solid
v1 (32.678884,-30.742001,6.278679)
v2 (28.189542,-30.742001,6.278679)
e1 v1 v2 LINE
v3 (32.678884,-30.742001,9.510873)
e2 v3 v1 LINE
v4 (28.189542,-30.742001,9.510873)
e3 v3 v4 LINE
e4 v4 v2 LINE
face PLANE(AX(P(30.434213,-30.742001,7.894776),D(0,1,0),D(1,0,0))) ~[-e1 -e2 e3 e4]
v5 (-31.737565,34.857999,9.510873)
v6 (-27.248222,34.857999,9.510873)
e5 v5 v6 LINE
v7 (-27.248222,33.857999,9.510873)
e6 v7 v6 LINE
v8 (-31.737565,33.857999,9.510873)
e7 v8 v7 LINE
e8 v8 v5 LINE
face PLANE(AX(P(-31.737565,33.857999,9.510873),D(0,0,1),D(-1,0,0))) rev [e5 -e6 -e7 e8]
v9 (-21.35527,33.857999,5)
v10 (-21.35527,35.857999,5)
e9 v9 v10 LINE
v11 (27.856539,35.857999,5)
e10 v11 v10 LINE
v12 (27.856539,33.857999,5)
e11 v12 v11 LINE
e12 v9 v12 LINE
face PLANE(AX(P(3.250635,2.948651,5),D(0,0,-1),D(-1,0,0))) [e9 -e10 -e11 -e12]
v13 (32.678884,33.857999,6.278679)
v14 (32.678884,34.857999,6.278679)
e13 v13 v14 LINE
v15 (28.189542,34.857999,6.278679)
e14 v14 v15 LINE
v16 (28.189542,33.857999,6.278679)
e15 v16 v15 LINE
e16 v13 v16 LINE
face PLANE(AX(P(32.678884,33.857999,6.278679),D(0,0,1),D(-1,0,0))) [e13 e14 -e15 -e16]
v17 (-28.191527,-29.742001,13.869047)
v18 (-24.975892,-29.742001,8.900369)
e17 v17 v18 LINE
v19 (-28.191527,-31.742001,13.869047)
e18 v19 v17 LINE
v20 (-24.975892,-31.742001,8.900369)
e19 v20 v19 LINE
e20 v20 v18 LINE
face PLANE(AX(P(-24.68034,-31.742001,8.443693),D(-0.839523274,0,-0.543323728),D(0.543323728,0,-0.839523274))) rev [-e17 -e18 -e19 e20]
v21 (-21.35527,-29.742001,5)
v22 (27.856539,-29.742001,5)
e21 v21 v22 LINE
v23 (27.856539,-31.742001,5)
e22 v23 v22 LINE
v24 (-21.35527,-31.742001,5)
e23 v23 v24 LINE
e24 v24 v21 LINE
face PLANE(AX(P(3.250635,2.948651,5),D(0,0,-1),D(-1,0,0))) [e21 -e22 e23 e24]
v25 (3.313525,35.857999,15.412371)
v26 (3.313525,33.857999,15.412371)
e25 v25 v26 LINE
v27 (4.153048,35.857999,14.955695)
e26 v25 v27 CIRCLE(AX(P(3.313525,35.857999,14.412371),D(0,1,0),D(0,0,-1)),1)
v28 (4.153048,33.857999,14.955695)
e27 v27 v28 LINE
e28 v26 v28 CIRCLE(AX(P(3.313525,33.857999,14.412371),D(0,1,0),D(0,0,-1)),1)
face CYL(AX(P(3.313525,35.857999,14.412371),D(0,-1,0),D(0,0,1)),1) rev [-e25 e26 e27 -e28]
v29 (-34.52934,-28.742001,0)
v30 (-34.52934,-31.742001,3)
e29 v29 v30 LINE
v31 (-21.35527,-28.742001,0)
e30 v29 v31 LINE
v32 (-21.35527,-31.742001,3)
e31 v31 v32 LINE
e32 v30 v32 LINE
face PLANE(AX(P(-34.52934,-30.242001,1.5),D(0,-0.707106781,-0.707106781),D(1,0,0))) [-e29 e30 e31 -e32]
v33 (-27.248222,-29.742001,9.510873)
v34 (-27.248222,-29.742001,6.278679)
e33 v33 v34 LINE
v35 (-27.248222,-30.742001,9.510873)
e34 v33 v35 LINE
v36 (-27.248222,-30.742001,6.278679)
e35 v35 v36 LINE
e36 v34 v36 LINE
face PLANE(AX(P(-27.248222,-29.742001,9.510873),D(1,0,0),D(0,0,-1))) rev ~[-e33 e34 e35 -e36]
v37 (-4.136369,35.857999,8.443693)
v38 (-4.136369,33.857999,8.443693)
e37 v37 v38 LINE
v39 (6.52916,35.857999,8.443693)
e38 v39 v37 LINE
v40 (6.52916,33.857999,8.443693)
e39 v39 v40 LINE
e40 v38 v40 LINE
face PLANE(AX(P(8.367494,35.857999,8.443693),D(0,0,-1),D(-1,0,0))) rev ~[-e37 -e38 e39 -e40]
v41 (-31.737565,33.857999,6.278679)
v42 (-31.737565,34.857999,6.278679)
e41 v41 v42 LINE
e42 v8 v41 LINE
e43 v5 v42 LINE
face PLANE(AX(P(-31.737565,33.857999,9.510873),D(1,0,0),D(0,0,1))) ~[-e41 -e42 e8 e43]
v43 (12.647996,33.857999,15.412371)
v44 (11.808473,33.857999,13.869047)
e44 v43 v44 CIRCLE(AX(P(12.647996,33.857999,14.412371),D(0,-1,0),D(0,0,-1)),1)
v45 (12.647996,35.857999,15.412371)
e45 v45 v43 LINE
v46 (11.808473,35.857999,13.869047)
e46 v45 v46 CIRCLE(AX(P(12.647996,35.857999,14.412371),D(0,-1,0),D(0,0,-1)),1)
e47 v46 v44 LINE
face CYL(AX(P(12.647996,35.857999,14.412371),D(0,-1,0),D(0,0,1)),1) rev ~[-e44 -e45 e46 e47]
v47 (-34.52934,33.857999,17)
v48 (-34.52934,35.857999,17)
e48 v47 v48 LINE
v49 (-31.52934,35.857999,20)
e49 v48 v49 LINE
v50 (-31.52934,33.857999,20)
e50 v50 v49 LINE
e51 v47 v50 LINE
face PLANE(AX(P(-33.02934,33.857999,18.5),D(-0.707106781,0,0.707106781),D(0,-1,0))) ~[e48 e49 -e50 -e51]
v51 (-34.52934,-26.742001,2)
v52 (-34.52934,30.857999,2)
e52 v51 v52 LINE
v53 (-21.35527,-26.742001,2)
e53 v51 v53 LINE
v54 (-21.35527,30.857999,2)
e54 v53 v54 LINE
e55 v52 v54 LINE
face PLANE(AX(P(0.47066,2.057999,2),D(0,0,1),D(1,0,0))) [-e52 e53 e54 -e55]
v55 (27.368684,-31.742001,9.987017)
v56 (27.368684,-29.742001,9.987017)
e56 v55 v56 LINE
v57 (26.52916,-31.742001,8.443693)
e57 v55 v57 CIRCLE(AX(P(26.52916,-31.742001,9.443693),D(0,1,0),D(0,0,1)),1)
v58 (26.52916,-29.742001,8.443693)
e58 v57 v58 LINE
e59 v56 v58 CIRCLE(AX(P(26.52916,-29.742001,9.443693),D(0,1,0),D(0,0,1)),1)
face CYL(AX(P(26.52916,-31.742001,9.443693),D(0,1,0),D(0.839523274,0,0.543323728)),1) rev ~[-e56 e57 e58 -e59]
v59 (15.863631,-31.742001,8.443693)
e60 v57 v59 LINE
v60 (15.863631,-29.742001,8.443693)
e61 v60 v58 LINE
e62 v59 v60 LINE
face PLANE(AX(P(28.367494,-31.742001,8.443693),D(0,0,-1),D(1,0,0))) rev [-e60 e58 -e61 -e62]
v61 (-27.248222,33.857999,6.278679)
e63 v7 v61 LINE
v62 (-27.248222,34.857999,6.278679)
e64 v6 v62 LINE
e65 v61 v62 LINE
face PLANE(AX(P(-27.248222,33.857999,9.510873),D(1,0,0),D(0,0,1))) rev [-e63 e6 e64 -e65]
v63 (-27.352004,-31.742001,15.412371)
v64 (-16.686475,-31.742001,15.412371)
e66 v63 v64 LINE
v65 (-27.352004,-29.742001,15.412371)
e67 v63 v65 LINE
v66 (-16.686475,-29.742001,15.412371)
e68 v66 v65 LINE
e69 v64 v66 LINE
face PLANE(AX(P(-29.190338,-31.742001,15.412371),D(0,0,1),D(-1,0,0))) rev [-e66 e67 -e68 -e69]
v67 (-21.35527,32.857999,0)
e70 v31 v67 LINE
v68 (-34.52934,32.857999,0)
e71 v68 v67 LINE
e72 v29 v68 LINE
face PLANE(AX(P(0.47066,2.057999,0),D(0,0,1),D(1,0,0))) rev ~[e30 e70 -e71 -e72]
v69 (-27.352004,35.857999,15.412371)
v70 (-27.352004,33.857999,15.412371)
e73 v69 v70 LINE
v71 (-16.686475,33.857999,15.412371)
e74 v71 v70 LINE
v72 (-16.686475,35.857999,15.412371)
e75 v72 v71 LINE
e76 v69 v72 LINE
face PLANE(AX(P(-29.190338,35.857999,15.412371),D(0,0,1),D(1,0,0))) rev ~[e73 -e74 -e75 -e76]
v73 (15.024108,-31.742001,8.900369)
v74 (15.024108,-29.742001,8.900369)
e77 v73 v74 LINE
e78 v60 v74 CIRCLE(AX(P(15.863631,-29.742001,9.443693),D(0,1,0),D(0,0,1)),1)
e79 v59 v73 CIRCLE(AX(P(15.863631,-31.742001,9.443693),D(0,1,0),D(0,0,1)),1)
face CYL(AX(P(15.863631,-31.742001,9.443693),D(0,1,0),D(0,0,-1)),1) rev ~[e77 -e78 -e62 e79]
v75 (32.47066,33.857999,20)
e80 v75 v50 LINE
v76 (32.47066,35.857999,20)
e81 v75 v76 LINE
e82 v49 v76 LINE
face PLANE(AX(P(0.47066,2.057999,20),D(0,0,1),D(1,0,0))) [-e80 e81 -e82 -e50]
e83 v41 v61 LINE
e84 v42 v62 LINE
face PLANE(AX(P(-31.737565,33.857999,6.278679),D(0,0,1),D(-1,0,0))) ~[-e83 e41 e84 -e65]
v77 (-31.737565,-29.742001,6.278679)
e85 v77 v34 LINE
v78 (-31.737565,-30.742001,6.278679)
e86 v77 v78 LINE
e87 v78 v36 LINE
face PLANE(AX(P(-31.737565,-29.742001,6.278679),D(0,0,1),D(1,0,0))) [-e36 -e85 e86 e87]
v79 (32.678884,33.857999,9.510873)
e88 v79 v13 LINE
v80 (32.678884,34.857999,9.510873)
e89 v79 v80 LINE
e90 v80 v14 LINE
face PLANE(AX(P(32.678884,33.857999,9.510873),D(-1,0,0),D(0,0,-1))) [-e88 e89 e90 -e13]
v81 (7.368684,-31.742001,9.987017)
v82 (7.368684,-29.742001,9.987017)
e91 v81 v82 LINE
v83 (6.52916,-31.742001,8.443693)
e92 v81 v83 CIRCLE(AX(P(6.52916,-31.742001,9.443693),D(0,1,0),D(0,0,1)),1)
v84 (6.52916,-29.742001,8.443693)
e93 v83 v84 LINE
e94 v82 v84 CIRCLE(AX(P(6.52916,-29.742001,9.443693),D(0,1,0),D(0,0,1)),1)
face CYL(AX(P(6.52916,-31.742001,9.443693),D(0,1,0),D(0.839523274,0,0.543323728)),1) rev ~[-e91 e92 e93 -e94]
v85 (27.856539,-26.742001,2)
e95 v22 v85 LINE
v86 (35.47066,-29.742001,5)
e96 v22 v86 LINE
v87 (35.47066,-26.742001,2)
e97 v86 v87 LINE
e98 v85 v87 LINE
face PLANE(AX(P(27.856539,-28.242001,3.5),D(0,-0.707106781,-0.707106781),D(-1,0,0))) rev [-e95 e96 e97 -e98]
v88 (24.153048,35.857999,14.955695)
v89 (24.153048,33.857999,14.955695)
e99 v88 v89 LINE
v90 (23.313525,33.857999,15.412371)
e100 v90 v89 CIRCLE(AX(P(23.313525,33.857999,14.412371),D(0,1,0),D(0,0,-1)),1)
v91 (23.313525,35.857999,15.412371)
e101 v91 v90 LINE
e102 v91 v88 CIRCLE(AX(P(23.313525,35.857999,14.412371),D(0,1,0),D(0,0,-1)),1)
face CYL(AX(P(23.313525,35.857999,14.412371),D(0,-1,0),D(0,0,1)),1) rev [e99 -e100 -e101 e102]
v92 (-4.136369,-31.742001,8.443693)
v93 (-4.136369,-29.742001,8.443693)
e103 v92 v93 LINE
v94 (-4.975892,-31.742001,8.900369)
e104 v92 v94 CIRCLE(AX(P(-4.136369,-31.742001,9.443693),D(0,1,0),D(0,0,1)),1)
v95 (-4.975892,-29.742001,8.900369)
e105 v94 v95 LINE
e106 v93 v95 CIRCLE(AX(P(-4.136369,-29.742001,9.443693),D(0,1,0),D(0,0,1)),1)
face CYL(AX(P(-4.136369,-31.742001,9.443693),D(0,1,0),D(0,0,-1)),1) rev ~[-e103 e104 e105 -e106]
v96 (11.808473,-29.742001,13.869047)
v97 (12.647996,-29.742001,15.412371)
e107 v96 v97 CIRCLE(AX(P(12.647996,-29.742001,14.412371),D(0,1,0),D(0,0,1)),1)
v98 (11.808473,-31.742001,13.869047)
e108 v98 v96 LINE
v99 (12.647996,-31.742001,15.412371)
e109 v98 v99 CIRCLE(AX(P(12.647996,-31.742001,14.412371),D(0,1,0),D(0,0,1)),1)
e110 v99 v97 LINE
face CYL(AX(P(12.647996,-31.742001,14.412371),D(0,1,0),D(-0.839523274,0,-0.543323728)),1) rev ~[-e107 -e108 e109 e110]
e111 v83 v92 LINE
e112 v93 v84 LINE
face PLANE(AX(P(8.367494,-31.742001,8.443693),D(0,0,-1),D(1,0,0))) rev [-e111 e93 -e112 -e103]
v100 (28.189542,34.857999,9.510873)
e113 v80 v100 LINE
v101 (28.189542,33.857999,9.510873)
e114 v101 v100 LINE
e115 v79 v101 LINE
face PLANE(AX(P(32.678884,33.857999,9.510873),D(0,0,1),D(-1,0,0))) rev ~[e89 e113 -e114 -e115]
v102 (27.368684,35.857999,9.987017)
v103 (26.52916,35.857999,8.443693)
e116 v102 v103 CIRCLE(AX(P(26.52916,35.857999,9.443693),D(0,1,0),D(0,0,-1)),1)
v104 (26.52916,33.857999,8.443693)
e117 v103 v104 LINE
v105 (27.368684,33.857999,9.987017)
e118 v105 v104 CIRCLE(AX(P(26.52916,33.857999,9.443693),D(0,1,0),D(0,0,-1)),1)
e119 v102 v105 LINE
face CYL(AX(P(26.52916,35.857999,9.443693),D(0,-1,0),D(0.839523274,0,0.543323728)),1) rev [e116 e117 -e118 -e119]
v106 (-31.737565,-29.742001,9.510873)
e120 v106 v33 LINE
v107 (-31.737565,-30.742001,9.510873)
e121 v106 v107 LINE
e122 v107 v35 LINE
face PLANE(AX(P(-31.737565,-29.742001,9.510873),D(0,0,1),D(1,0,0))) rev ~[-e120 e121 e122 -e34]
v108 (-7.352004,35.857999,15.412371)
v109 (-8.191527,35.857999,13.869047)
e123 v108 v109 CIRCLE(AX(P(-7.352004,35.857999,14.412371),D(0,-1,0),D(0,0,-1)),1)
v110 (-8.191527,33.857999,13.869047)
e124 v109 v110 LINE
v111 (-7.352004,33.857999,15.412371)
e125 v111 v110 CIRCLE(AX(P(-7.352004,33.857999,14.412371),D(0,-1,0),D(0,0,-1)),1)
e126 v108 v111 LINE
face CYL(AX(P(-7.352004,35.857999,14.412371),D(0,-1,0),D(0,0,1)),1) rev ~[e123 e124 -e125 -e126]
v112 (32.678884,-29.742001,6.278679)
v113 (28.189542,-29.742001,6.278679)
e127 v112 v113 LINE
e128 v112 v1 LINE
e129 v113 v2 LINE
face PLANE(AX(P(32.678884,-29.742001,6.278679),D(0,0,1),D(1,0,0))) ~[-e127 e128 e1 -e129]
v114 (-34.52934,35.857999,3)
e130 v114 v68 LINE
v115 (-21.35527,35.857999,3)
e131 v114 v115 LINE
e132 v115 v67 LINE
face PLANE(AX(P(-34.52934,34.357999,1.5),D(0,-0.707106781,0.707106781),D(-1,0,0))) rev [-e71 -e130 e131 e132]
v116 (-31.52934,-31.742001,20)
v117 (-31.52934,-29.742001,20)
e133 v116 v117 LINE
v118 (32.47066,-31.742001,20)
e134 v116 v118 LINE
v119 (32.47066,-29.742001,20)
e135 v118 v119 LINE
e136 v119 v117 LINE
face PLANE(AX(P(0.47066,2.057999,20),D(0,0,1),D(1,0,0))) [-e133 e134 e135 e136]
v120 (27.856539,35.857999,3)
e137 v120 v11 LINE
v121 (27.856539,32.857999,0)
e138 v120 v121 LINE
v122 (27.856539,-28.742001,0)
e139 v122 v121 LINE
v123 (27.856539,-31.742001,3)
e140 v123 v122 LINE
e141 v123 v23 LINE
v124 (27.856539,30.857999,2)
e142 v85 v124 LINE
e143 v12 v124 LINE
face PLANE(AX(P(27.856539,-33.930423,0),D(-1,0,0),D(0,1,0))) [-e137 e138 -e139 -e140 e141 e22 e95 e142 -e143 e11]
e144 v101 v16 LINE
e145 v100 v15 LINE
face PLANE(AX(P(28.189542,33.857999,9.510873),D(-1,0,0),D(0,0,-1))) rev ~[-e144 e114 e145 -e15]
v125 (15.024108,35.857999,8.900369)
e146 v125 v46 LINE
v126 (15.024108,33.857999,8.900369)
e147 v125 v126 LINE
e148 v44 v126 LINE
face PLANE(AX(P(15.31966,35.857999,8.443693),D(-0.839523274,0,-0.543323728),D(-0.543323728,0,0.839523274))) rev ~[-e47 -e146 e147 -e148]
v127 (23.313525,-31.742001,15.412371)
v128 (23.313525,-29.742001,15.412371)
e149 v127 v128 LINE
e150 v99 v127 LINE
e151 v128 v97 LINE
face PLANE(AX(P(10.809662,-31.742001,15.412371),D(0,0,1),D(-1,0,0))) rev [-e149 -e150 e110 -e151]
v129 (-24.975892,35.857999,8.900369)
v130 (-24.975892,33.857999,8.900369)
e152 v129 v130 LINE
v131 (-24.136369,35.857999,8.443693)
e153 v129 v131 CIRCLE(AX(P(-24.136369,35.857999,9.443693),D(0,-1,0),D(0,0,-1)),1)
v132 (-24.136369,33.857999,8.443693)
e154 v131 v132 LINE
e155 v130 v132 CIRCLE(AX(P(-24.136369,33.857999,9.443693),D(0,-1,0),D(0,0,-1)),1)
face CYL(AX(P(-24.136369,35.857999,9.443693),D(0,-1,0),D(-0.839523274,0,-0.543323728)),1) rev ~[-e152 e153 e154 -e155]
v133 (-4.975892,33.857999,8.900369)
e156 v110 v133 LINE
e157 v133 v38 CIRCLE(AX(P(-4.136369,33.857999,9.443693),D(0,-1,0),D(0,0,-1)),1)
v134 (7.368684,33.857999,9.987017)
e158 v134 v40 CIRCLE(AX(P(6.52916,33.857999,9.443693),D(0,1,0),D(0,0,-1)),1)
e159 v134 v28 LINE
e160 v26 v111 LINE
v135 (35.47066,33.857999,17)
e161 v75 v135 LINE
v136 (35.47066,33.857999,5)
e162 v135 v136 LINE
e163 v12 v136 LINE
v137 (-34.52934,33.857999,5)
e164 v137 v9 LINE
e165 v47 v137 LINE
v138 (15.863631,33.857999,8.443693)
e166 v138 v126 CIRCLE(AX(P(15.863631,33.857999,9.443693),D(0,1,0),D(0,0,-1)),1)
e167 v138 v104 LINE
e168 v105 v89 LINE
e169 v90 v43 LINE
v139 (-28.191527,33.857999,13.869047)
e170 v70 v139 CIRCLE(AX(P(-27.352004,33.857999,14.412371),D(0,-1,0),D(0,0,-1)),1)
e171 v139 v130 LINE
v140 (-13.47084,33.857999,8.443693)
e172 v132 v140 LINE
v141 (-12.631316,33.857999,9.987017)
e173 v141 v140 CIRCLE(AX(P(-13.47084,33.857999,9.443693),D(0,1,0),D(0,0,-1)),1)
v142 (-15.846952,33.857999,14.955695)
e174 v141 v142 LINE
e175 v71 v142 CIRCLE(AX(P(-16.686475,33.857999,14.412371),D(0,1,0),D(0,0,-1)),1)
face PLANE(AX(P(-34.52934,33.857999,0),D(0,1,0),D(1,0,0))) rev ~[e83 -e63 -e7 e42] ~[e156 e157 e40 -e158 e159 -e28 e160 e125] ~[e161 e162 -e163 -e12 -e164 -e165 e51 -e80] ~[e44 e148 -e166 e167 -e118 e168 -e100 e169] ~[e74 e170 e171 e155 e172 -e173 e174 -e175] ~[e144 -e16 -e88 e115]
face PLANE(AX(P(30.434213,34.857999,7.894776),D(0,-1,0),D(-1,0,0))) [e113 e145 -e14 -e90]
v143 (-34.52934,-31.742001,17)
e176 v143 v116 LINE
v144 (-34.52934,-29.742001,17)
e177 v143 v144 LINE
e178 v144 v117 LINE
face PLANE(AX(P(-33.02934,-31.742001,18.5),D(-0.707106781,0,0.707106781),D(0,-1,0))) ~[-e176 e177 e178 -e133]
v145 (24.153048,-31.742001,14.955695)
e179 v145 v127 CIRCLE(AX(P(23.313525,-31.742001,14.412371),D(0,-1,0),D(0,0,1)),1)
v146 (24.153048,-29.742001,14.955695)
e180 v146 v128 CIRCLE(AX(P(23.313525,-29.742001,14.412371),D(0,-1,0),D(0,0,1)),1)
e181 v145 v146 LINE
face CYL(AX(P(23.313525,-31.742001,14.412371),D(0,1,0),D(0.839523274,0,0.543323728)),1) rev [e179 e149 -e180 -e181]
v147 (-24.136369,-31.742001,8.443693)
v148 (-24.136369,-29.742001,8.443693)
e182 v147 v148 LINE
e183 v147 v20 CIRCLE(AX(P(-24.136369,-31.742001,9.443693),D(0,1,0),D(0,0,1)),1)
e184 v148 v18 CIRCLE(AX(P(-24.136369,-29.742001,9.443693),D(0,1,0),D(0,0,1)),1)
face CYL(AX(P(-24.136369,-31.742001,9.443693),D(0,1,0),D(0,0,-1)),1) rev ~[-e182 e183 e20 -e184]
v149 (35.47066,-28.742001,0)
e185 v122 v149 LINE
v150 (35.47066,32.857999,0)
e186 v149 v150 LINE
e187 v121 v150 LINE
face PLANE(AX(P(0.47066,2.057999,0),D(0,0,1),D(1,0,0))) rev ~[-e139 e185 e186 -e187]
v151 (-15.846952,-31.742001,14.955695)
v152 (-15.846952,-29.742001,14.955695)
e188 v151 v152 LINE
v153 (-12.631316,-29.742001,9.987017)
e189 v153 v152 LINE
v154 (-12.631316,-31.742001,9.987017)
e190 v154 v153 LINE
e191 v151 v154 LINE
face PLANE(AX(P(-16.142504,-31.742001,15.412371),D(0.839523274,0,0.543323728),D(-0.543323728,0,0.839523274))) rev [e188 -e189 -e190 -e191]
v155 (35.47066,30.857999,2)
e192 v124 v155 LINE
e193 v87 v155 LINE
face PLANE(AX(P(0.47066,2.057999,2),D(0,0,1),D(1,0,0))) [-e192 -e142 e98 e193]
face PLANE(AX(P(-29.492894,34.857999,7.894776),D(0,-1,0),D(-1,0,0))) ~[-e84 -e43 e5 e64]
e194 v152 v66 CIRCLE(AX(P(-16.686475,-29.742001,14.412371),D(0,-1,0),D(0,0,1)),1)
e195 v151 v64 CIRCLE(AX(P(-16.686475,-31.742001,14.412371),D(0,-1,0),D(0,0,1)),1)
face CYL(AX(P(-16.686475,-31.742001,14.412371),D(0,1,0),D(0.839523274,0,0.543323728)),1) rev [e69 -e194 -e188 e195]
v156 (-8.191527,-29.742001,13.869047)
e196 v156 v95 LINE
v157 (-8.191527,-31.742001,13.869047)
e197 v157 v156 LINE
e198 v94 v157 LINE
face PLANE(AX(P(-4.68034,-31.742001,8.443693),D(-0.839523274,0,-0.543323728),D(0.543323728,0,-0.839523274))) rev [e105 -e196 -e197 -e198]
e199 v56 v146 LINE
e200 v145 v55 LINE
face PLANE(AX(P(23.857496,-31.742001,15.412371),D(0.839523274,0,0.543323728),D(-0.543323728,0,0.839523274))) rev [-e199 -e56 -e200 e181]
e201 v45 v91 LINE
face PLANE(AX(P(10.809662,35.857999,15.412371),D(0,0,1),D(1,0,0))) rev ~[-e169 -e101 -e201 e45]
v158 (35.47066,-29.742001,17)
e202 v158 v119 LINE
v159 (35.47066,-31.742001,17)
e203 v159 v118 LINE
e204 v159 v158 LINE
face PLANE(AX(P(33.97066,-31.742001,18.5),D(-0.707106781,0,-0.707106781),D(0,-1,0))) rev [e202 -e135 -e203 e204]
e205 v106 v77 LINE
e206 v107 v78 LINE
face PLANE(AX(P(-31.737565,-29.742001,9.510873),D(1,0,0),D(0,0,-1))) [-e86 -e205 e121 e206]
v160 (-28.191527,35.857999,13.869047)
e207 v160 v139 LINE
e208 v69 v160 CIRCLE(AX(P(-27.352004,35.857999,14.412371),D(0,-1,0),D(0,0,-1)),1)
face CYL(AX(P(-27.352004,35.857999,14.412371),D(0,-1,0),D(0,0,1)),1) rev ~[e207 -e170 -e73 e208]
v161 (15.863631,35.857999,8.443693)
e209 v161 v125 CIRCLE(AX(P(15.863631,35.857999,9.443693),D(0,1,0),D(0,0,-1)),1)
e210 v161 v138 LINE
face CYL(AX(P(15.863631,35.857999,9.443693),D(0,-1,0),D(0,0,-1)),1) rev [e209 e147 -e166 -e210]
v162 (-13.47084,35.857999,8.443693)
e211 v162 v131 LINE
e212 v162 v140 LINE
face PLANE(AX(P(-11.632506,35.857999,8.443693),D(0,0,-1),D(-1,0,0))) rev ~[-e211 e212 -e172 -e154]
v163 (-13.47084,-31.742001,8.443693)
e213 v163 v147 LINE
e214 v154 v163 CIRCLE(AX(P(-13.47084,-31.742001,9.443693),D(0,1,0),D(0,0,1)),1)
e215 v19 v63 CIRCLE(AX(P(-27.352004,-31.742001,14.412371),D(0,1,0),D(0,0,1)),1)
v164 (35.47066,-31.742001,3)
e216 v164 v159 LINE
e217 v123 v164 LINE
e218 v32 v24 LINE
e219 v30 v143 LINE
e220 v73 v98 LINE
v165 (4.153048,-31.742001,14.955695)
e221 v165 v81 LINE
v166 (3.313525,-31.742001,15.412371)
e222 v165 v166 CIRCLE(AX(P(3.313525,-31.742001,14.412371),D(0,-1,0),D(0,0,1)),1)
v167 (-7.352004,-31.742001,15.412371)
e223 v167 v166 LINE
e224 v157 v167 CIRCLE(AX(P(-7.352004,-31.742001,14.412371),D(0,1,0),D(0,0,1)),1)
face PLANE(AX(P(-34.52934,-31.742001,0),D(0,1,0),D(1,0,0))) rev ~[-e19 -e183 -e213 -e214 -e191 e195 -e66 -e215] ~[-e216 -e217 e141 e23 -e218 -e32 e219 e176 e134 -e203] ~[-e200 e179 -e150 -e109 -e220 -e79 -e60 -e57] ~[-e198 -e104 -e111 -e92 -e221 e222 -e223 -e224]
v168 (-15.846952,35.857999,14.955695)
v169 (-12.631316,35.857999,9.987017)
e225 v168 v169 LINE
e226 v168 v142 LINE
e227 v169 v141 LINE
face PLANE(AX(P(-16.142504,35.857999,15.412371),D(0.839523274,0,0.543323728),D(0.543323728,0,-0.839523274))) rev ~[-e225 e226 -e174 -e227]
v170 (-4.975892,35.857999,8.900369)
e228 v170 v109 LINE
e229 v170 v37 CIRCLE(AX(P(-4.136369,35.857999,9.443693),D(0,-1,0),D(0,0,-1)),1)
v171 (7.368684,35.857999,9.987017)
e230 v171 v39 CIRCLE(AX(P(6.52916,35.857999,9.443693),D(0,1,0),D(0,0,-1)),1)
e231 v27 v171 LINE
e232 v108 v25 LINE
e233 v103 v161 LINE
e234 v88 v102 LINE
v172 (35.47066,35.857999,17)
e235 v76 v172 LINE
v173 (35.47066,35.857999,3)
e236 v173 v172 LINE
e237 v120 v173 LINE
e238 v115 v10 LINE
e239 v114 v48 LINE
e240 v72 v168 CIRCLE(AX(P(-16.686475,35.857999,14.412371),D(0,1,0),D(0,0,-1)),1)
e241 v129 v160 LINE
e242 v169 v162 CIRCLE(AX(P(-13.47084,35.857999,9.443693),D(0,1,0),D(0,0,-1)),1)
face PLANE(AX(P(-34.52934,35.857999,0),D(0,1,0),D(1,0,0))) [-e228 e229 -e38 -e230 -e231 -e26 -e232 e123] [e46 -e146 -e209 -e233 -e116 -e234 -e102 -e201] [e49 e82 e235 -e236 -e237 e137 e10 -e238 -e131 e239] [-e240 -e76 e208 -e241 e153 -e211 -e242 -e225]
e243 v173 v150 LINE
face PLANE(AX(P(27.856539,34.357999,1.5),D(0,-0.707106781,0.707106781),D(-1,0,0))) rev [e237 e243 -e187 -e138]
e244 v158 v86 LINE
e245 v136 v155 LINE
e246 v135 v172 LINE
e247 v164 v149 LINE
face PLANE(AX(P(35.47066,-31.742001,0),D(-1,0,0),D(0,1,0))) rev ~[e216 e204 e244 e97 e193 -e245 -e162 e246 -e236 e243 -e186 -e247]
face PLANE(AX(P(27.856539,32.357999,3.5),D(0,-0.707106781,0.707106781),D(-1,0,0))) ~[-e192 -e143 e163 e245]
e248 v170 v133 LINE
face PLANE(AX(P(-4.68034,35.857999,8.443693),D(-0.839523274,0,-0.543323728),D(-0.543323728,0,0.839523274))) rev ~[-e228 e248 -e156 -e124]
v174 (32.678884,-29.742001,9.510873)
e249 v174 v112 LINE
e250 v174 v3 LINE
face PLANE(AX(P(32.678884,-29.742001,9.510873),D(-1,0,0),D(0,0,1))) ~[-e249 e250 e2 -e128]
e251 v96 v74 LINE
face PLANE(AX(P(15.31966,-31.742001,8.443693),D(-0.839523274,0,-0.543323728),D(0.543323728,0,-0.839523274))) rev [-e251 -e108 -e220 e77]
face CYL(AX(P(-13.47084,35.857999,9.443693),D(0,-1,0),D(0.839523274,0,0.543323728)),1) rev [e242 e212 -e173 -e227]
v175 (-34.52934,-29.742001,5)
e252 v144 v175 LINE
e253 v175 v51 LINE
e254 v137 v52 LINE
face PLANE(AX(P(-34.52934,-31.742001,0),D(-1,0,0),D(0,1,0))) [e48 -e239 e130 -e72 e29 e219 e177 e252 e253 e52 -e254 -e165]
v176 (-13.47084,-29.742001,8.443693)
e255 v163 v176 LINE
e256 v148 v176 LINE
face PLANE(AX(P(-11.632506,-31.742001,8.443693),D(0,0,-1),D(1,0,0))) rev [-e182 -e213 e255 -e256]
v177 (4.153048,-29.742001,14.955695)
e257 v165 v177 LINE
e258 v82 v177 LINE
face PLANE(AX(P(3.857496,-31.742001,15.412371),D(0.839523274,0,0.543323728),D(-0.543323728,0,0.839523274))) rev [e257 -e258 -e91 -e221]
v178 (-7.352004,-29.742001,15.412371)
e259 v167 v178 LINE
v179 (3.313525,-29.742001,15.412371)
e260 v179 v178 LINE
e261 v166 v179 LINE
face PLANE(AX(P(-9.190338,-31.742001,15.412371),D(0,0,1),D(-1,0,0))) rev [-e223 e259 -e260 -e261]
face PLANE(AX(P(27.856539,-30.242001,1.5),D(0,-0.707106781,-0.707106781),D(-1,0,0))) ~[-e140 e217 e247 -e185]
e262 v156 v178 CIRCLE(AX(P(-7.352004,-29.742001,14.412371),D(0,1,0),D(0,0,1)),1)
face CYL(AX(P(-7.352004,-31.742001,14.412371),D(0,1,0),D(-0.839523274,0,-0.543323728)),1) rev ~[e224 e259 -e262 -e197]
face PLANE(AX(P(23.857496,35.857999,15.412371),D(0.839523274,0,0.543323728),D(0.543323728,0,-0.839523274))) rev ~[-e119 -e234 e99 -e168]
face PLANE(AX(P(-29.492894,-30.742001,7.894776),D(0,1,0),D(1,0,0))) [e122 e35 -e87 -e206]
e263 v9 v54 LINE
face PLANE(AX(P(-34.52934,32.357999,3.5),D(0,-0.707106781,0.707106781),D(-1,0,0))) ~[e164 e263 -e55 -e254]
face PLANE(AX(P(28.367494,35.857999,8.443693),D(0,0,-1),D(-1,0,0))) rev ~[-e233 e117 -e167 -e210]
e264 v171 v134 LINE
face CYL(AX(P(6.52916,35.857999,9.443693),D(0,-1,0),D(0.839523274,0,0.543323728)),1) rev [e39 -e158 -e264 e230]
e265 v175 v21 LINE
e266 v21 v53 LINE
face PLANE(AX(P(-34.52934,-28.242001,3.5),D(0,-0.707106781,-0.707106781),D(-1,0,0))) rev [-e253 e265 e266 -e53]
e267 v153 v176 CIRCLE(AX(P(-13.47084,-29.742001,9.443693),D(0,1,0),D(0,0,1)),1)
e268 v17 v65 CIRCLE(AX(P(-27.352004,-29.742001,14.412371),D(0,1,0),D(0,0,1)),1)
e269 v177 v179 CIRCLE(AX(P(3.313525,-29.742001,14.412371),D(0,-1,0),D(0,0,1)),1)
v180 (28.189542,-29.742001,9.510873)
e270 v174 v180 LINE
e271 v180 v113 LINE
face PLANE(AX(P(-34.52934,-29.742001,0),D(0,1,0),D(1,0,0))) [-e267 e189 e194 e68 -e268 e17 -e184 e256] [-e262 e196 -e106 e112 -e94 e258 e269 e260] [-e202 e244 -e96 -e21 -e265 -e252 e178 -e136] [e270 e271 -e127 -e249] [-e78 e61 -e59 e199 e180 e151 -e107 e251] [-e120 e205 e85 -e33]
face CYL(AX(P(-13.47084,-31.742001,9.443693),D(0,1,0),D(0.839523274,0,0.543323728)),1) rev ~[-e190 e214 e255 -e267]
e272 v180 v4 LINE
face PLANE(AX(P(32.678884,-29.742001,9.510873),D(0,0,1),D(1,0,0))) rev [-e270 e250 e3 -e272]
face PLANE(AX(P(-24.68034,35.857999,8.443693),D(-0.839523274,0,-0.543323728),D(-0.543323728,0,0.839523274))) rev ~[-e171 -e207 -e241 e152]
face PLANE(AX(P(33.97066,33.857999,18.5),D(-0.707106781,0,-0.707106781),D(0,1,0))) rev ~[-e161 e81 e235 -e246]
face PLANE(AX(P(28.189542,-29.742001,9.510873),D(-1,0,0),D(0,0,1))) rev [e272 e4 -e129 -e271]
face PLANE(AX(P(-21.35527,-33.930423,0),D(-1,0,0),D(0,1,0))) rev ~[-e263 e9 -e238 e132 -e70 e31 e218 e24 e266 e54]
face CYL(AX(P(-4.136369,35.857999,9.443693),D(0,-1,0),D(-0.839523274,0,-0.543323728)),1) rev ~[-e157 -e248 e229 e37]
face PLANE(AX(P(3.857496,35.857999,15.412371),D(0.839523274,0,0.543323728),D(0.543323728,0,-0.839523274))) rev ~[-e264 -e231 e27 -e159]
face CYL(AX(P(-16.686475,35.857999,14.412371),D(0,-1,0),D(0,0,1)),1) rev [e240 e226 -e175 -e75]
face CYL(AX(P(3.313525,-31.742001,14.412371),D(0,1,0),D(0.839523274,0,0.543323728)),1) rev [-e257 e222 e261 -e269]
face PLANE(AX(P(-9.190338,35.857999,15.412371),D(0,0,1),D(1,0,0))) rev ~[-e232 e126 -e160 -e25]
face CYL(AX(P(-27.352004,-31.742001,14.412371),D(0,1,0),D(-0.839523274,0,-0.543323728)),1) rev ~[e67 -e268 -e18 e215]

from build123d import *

# Parameters (mm, degrees)
SKETCH2_W               = 70
SKETCH2_H               = 67.6
BOSS_EXTRUDE2_DEPTH     = 20
SKETCH3_W               = 49.211808989
SKETCH3_H               = 73.758147992
CUT_EXTRUDE1_DEPTH      = 5
SHELL1_T                = -2
CHAMFER1_SIZE           = 3
CHAMFER2_SIZE           = 3
CUT_EXTRUDE2_REACH      = 80.917
FILLET1_R               = 1
FILLET1_OF_MIRROR1_R    = 1
SKETCH6_W               = 4.489342342
SKETCH6_H               = 3.232194467
CUT_EXTRUDE3_DEPTH      = 1
MIRROR3_COPY_1_SKETCH_W = 4.489342342
MIRROR3_COPY_1_SKETCH_H = 3.232194467
MIRROR3_COPY_1_DEPTH    = 1


with BuildPart() as part:
    # Sketch2 → Boss-Extrude2 (new body)
    with BuildSketch(Plane.XY):
        with Locations((0.470659816, 2.057998975)):
            Rectangle(SKETCH2_W, SKETCH2_H)
    extrude(amount=BOSS_EXTRUDE2_DEPTH)

    # Sketch3 → Cut-Extrude1 (cut)
    with BuildSketch(Plane(origin=(0, 0, 0), x_dir=(-1, 0, 0), z_dir=(0, 0, -1))):
        with Locations((-3.250634913, 2.948650711)):
            Rectangle(SKETCH3_W, SKETCH3_H)
    extrude(amount=-CUT_EXTRUDE1_DEPTH, mode=Mode.SUBTRACT)

    # Shell1
    shell1_openings = [part.faces().sort_by_distance(p)[0] for p in [
        (0.470659816, 2.057998975, 20),
        (3.250634912, 2.057998975, 5),
        (-21.355269582, 2.057998975, 2.5),
        (27.856539407, 2.057998975, 2.5),
        (35.470659816, 2.057998975, 10),
        (-34.529340184, 2.057998975, 10),
    ]]
    offset(amount=SHELL1_T, openings=shell1_openings, kind=Kind.INTERSECTION)

    # Chamfer1
    chamfer1_edges = [part.edges().sort_by_distance(p)[0] for p in [
        (-27.942304883, -29.742001025, 2),
        (31.663599611, -29.742001025, 2),
        (-27.942304883, 33.857998975, 2),
        (31.663599611, 33.857998975, 2),
        (-27.942304883, -31.742001025, 0),
        (31.663599611, -31.742001025, 0),
        (31.663599611, 35.857998975, 0),
        (-27.942304883, 35.857998975, 0),
    ]]
    chamfer(chamfer1_edges, length=CHAMFER1_SIZE)

    # Chamfer2
    chamfer2_edges = [part.edges().sort_by_distance(p)[0] for p in [
        (35.470659816, -30.742001025, 20),
        (-34.529340184, -30.742001025, 20),
        (35.470659816, 34.857998975, 20),
        (-34.529340184, 34.857998975, 20),
    ]]
    chamfer(chamfer2_edges, length=CHAMFER2_SIZE)

    # Sketch5 → Cut-Extrude2 (cut, up to next)
    with BuildSketch(Plane(origin=(0, 35.857998975, 0), x_dir=(1, 0, 0), z_dir=(0, 1, 0)), mode=Mode.PRIVATE) as cut_extrude2_sk1:
        Polygon((-29.190337507, -15.412371153), (-16.14250414, -15.412371153), (-11.632506267, -8.443693022), (-24.680339633, -8.443693022), align=None)
    cut_extrude2_tool1 = extrude(cut_extrude2_sk1.sketch, amount=-CUT_EXTRUDE2_REACH, mode=Mode.PRIVATE) & part.part
    # Sketch5 → Cut-Extrude2 (cut, up to next)
    with BuildSketch(Plane(origin=(0, 35.857998975, 0), x_dir=(1, 0, 0), z_dir=(0, 1, 0)), mode=Mode.PRIVATE) as cut_extrude2_sk2:
        Polygon((-9.190337507, -15.412371153), (3.85749586, -15.412371153), (8.367493733, -8.443693022), (-4.680339633, -8.443693022), align=None)
    cut_extrude2_tool2 = extrude(cut_extrude2_sk2.sketch, amount=-CUT_EXTRUDE2_REACH, mode=Mode.PRIVATE) & part.part
    # Sketch5 → Cut-Extrude2 (cut, up to next)
    with BuildSketch(Plane(origin=(0, 35.857998975, 0), x_dir=(1, 0, 0), z_dir=(0, 1, 0)), mode=Mode.PRIVATE) as cut_extrude2_sk3:
        Polygon((10.809662493, -15.412371153), (23.85749586, -15.412371153), (28.367493733, -8.443693022), (15.319660367, -8.443693022), align=None)
    cut_extrude2_tool3 = extrude(cut_extrude2_sk3.sketch, amount=-CUT_EXTRUDE2_REACH, mode=Mode.PRIVATE) & part.part
    cut_extrude2_1 = cut_extrude2_tool1.solids().sort_by_distance((-20.411422, 35.857999, 11.928032))[0]
    add(cut_extrude2_1, mode=Mode.SUBTRACT)
    cut_extrude2_2 = cut_extrude2_tool2.solids().sort_by_distance((-0.411422, 35.857999, 11.928032))[0]
    add(cut_extrude2_2, mode=Mode.SUBTRACT)
    cut_extrude2_3 = cut_extrude2_tool3.solids().sort_by_distance((19.588578, 35.857999, 11.928032))[0]
    add(cut_extrude2_3, mode=Mode.SUBTRACT)
    cut_extrude2 = cut_extrude2_1 + cut_extrude2_2 + cut_extrude2_3  # Cut-Extrude2 as one shape, for the pattern or mirror that repeats it

    # Fillet1
    fillet1_edges = [part.edges().sort_by_distance(p)[0] for p in [
        (-16.14250414, 34.857998975, 15.412371153),
        (-11.632506267, 34.857998975, 8.443693022),
        (-24.680339633, 34.857998975, 8.443693022),
        (-29.190337507, 34.857998975, 15.412371153),
        (3.85749586, 34.857998975, 15.412371153),
        (8.367493733, 34.857998975, 8.443693022),
        (-4.680339633, 34.857998975, 8.443693022),
        (-9.190337507, 34.857998975, 15.412371153),
        (23.85749586, 34.857998975, 15.412371153),
        (28.367493733, 34.857998975, 8.443693022),
        (15.319660367, 34.857998975, 8.443693022),
        (10.809662493, 34.857998975, 15.412371153),
    ]]
    fillet(fillet1_edges, radius=FILLET1_R)

    # Mirror1: Cut-Extrude2 across plane
    add(cut_extrude2.mirror(Plane.ZX.offset(2.057998975)), mode=Mode.SUBTRACT)

    # Fillet1 of Mirror1
    fillet1_of_mirror1_edges = [part.edges().sort_by_distance(p)[0] for p in [
        (-16.14250414, -30.742001025, 15.412371153),
        (-11.632506267, -30.742001025, 8.443693022),
        (-24.680339633, -30.742001025, 8.443693022),
        (-29.190337507, -30.742001025, 15.412371153),
        (3.85749586, -30.742001025, 15.412371153),
        (8.367493733, -30.742001025, 8.443693022),
        (-4.680339633, -30.742001025, 8.443693022),
        (-9.190337507, -30.742001025, 15.412371153),
        (23.85749586, -30.742001025, 15.412371153),
        (28.367493733, -30.742001025, 8.443693022),
        (15.319660367, -30.742001025, 8.443693022),
        (10.809662493, -30.742001025, 15.412371153),
    ]]
    fillet(fillet1_of_mirror1_edges, radius=FILLET1_OF_MIRROR1_R)

    # Sketch6 → Cut-Extrude3 (cut)
    with BuildSketch(Plane(origin=(0, -29.742001025, 0), x_dir=(1, 0, 0), z_dir=(0, 1, 0))):
        with Locations((-29.492893563, -7.894775984)):
            Rectangle(SKETCH6_W, SKETCH6_H)
    cut_extrude3 = extrude(amount=-CUT_EXTRUDE3_DEPTH, mode=Mode.SUBTRACT)

    # Mirror2: Cut-Extrude3 across plane
    add(cut_extrude3.mirror(Plane.ZX.offset(2.057998975)), mode=Mode.SUBTRACT)

    # Mirror3: Cut-Extrude3 across plane
    add(cut_extrude3.mirror(Plane(origin=(0.470659816, 0, 0), x_dir=(0, 0, 1), z_dir=(1, 0, 0))), mode=Mode.SUBTRACT)

    # Mirror3 copy 1 sketch → Mirror3 copy 1 (cut)
    with BuildSketch(Plane(origin=(0.941319632, 33.857998975, 0), x_dir=(-1, 0, 0), z_dir=(0, -1, 0))):
        with Locations((-29.492893563, -7.894775984)):
            Rectangle(MIRROR3_COPY_1_SKETCH_W, MIRROR3_COPY_1_SKETCH_H)
    extrude(amount=-MIRROR3_COPY_1_DEPTH, mode=Mode.SUBTRACT)


solid = part.part
